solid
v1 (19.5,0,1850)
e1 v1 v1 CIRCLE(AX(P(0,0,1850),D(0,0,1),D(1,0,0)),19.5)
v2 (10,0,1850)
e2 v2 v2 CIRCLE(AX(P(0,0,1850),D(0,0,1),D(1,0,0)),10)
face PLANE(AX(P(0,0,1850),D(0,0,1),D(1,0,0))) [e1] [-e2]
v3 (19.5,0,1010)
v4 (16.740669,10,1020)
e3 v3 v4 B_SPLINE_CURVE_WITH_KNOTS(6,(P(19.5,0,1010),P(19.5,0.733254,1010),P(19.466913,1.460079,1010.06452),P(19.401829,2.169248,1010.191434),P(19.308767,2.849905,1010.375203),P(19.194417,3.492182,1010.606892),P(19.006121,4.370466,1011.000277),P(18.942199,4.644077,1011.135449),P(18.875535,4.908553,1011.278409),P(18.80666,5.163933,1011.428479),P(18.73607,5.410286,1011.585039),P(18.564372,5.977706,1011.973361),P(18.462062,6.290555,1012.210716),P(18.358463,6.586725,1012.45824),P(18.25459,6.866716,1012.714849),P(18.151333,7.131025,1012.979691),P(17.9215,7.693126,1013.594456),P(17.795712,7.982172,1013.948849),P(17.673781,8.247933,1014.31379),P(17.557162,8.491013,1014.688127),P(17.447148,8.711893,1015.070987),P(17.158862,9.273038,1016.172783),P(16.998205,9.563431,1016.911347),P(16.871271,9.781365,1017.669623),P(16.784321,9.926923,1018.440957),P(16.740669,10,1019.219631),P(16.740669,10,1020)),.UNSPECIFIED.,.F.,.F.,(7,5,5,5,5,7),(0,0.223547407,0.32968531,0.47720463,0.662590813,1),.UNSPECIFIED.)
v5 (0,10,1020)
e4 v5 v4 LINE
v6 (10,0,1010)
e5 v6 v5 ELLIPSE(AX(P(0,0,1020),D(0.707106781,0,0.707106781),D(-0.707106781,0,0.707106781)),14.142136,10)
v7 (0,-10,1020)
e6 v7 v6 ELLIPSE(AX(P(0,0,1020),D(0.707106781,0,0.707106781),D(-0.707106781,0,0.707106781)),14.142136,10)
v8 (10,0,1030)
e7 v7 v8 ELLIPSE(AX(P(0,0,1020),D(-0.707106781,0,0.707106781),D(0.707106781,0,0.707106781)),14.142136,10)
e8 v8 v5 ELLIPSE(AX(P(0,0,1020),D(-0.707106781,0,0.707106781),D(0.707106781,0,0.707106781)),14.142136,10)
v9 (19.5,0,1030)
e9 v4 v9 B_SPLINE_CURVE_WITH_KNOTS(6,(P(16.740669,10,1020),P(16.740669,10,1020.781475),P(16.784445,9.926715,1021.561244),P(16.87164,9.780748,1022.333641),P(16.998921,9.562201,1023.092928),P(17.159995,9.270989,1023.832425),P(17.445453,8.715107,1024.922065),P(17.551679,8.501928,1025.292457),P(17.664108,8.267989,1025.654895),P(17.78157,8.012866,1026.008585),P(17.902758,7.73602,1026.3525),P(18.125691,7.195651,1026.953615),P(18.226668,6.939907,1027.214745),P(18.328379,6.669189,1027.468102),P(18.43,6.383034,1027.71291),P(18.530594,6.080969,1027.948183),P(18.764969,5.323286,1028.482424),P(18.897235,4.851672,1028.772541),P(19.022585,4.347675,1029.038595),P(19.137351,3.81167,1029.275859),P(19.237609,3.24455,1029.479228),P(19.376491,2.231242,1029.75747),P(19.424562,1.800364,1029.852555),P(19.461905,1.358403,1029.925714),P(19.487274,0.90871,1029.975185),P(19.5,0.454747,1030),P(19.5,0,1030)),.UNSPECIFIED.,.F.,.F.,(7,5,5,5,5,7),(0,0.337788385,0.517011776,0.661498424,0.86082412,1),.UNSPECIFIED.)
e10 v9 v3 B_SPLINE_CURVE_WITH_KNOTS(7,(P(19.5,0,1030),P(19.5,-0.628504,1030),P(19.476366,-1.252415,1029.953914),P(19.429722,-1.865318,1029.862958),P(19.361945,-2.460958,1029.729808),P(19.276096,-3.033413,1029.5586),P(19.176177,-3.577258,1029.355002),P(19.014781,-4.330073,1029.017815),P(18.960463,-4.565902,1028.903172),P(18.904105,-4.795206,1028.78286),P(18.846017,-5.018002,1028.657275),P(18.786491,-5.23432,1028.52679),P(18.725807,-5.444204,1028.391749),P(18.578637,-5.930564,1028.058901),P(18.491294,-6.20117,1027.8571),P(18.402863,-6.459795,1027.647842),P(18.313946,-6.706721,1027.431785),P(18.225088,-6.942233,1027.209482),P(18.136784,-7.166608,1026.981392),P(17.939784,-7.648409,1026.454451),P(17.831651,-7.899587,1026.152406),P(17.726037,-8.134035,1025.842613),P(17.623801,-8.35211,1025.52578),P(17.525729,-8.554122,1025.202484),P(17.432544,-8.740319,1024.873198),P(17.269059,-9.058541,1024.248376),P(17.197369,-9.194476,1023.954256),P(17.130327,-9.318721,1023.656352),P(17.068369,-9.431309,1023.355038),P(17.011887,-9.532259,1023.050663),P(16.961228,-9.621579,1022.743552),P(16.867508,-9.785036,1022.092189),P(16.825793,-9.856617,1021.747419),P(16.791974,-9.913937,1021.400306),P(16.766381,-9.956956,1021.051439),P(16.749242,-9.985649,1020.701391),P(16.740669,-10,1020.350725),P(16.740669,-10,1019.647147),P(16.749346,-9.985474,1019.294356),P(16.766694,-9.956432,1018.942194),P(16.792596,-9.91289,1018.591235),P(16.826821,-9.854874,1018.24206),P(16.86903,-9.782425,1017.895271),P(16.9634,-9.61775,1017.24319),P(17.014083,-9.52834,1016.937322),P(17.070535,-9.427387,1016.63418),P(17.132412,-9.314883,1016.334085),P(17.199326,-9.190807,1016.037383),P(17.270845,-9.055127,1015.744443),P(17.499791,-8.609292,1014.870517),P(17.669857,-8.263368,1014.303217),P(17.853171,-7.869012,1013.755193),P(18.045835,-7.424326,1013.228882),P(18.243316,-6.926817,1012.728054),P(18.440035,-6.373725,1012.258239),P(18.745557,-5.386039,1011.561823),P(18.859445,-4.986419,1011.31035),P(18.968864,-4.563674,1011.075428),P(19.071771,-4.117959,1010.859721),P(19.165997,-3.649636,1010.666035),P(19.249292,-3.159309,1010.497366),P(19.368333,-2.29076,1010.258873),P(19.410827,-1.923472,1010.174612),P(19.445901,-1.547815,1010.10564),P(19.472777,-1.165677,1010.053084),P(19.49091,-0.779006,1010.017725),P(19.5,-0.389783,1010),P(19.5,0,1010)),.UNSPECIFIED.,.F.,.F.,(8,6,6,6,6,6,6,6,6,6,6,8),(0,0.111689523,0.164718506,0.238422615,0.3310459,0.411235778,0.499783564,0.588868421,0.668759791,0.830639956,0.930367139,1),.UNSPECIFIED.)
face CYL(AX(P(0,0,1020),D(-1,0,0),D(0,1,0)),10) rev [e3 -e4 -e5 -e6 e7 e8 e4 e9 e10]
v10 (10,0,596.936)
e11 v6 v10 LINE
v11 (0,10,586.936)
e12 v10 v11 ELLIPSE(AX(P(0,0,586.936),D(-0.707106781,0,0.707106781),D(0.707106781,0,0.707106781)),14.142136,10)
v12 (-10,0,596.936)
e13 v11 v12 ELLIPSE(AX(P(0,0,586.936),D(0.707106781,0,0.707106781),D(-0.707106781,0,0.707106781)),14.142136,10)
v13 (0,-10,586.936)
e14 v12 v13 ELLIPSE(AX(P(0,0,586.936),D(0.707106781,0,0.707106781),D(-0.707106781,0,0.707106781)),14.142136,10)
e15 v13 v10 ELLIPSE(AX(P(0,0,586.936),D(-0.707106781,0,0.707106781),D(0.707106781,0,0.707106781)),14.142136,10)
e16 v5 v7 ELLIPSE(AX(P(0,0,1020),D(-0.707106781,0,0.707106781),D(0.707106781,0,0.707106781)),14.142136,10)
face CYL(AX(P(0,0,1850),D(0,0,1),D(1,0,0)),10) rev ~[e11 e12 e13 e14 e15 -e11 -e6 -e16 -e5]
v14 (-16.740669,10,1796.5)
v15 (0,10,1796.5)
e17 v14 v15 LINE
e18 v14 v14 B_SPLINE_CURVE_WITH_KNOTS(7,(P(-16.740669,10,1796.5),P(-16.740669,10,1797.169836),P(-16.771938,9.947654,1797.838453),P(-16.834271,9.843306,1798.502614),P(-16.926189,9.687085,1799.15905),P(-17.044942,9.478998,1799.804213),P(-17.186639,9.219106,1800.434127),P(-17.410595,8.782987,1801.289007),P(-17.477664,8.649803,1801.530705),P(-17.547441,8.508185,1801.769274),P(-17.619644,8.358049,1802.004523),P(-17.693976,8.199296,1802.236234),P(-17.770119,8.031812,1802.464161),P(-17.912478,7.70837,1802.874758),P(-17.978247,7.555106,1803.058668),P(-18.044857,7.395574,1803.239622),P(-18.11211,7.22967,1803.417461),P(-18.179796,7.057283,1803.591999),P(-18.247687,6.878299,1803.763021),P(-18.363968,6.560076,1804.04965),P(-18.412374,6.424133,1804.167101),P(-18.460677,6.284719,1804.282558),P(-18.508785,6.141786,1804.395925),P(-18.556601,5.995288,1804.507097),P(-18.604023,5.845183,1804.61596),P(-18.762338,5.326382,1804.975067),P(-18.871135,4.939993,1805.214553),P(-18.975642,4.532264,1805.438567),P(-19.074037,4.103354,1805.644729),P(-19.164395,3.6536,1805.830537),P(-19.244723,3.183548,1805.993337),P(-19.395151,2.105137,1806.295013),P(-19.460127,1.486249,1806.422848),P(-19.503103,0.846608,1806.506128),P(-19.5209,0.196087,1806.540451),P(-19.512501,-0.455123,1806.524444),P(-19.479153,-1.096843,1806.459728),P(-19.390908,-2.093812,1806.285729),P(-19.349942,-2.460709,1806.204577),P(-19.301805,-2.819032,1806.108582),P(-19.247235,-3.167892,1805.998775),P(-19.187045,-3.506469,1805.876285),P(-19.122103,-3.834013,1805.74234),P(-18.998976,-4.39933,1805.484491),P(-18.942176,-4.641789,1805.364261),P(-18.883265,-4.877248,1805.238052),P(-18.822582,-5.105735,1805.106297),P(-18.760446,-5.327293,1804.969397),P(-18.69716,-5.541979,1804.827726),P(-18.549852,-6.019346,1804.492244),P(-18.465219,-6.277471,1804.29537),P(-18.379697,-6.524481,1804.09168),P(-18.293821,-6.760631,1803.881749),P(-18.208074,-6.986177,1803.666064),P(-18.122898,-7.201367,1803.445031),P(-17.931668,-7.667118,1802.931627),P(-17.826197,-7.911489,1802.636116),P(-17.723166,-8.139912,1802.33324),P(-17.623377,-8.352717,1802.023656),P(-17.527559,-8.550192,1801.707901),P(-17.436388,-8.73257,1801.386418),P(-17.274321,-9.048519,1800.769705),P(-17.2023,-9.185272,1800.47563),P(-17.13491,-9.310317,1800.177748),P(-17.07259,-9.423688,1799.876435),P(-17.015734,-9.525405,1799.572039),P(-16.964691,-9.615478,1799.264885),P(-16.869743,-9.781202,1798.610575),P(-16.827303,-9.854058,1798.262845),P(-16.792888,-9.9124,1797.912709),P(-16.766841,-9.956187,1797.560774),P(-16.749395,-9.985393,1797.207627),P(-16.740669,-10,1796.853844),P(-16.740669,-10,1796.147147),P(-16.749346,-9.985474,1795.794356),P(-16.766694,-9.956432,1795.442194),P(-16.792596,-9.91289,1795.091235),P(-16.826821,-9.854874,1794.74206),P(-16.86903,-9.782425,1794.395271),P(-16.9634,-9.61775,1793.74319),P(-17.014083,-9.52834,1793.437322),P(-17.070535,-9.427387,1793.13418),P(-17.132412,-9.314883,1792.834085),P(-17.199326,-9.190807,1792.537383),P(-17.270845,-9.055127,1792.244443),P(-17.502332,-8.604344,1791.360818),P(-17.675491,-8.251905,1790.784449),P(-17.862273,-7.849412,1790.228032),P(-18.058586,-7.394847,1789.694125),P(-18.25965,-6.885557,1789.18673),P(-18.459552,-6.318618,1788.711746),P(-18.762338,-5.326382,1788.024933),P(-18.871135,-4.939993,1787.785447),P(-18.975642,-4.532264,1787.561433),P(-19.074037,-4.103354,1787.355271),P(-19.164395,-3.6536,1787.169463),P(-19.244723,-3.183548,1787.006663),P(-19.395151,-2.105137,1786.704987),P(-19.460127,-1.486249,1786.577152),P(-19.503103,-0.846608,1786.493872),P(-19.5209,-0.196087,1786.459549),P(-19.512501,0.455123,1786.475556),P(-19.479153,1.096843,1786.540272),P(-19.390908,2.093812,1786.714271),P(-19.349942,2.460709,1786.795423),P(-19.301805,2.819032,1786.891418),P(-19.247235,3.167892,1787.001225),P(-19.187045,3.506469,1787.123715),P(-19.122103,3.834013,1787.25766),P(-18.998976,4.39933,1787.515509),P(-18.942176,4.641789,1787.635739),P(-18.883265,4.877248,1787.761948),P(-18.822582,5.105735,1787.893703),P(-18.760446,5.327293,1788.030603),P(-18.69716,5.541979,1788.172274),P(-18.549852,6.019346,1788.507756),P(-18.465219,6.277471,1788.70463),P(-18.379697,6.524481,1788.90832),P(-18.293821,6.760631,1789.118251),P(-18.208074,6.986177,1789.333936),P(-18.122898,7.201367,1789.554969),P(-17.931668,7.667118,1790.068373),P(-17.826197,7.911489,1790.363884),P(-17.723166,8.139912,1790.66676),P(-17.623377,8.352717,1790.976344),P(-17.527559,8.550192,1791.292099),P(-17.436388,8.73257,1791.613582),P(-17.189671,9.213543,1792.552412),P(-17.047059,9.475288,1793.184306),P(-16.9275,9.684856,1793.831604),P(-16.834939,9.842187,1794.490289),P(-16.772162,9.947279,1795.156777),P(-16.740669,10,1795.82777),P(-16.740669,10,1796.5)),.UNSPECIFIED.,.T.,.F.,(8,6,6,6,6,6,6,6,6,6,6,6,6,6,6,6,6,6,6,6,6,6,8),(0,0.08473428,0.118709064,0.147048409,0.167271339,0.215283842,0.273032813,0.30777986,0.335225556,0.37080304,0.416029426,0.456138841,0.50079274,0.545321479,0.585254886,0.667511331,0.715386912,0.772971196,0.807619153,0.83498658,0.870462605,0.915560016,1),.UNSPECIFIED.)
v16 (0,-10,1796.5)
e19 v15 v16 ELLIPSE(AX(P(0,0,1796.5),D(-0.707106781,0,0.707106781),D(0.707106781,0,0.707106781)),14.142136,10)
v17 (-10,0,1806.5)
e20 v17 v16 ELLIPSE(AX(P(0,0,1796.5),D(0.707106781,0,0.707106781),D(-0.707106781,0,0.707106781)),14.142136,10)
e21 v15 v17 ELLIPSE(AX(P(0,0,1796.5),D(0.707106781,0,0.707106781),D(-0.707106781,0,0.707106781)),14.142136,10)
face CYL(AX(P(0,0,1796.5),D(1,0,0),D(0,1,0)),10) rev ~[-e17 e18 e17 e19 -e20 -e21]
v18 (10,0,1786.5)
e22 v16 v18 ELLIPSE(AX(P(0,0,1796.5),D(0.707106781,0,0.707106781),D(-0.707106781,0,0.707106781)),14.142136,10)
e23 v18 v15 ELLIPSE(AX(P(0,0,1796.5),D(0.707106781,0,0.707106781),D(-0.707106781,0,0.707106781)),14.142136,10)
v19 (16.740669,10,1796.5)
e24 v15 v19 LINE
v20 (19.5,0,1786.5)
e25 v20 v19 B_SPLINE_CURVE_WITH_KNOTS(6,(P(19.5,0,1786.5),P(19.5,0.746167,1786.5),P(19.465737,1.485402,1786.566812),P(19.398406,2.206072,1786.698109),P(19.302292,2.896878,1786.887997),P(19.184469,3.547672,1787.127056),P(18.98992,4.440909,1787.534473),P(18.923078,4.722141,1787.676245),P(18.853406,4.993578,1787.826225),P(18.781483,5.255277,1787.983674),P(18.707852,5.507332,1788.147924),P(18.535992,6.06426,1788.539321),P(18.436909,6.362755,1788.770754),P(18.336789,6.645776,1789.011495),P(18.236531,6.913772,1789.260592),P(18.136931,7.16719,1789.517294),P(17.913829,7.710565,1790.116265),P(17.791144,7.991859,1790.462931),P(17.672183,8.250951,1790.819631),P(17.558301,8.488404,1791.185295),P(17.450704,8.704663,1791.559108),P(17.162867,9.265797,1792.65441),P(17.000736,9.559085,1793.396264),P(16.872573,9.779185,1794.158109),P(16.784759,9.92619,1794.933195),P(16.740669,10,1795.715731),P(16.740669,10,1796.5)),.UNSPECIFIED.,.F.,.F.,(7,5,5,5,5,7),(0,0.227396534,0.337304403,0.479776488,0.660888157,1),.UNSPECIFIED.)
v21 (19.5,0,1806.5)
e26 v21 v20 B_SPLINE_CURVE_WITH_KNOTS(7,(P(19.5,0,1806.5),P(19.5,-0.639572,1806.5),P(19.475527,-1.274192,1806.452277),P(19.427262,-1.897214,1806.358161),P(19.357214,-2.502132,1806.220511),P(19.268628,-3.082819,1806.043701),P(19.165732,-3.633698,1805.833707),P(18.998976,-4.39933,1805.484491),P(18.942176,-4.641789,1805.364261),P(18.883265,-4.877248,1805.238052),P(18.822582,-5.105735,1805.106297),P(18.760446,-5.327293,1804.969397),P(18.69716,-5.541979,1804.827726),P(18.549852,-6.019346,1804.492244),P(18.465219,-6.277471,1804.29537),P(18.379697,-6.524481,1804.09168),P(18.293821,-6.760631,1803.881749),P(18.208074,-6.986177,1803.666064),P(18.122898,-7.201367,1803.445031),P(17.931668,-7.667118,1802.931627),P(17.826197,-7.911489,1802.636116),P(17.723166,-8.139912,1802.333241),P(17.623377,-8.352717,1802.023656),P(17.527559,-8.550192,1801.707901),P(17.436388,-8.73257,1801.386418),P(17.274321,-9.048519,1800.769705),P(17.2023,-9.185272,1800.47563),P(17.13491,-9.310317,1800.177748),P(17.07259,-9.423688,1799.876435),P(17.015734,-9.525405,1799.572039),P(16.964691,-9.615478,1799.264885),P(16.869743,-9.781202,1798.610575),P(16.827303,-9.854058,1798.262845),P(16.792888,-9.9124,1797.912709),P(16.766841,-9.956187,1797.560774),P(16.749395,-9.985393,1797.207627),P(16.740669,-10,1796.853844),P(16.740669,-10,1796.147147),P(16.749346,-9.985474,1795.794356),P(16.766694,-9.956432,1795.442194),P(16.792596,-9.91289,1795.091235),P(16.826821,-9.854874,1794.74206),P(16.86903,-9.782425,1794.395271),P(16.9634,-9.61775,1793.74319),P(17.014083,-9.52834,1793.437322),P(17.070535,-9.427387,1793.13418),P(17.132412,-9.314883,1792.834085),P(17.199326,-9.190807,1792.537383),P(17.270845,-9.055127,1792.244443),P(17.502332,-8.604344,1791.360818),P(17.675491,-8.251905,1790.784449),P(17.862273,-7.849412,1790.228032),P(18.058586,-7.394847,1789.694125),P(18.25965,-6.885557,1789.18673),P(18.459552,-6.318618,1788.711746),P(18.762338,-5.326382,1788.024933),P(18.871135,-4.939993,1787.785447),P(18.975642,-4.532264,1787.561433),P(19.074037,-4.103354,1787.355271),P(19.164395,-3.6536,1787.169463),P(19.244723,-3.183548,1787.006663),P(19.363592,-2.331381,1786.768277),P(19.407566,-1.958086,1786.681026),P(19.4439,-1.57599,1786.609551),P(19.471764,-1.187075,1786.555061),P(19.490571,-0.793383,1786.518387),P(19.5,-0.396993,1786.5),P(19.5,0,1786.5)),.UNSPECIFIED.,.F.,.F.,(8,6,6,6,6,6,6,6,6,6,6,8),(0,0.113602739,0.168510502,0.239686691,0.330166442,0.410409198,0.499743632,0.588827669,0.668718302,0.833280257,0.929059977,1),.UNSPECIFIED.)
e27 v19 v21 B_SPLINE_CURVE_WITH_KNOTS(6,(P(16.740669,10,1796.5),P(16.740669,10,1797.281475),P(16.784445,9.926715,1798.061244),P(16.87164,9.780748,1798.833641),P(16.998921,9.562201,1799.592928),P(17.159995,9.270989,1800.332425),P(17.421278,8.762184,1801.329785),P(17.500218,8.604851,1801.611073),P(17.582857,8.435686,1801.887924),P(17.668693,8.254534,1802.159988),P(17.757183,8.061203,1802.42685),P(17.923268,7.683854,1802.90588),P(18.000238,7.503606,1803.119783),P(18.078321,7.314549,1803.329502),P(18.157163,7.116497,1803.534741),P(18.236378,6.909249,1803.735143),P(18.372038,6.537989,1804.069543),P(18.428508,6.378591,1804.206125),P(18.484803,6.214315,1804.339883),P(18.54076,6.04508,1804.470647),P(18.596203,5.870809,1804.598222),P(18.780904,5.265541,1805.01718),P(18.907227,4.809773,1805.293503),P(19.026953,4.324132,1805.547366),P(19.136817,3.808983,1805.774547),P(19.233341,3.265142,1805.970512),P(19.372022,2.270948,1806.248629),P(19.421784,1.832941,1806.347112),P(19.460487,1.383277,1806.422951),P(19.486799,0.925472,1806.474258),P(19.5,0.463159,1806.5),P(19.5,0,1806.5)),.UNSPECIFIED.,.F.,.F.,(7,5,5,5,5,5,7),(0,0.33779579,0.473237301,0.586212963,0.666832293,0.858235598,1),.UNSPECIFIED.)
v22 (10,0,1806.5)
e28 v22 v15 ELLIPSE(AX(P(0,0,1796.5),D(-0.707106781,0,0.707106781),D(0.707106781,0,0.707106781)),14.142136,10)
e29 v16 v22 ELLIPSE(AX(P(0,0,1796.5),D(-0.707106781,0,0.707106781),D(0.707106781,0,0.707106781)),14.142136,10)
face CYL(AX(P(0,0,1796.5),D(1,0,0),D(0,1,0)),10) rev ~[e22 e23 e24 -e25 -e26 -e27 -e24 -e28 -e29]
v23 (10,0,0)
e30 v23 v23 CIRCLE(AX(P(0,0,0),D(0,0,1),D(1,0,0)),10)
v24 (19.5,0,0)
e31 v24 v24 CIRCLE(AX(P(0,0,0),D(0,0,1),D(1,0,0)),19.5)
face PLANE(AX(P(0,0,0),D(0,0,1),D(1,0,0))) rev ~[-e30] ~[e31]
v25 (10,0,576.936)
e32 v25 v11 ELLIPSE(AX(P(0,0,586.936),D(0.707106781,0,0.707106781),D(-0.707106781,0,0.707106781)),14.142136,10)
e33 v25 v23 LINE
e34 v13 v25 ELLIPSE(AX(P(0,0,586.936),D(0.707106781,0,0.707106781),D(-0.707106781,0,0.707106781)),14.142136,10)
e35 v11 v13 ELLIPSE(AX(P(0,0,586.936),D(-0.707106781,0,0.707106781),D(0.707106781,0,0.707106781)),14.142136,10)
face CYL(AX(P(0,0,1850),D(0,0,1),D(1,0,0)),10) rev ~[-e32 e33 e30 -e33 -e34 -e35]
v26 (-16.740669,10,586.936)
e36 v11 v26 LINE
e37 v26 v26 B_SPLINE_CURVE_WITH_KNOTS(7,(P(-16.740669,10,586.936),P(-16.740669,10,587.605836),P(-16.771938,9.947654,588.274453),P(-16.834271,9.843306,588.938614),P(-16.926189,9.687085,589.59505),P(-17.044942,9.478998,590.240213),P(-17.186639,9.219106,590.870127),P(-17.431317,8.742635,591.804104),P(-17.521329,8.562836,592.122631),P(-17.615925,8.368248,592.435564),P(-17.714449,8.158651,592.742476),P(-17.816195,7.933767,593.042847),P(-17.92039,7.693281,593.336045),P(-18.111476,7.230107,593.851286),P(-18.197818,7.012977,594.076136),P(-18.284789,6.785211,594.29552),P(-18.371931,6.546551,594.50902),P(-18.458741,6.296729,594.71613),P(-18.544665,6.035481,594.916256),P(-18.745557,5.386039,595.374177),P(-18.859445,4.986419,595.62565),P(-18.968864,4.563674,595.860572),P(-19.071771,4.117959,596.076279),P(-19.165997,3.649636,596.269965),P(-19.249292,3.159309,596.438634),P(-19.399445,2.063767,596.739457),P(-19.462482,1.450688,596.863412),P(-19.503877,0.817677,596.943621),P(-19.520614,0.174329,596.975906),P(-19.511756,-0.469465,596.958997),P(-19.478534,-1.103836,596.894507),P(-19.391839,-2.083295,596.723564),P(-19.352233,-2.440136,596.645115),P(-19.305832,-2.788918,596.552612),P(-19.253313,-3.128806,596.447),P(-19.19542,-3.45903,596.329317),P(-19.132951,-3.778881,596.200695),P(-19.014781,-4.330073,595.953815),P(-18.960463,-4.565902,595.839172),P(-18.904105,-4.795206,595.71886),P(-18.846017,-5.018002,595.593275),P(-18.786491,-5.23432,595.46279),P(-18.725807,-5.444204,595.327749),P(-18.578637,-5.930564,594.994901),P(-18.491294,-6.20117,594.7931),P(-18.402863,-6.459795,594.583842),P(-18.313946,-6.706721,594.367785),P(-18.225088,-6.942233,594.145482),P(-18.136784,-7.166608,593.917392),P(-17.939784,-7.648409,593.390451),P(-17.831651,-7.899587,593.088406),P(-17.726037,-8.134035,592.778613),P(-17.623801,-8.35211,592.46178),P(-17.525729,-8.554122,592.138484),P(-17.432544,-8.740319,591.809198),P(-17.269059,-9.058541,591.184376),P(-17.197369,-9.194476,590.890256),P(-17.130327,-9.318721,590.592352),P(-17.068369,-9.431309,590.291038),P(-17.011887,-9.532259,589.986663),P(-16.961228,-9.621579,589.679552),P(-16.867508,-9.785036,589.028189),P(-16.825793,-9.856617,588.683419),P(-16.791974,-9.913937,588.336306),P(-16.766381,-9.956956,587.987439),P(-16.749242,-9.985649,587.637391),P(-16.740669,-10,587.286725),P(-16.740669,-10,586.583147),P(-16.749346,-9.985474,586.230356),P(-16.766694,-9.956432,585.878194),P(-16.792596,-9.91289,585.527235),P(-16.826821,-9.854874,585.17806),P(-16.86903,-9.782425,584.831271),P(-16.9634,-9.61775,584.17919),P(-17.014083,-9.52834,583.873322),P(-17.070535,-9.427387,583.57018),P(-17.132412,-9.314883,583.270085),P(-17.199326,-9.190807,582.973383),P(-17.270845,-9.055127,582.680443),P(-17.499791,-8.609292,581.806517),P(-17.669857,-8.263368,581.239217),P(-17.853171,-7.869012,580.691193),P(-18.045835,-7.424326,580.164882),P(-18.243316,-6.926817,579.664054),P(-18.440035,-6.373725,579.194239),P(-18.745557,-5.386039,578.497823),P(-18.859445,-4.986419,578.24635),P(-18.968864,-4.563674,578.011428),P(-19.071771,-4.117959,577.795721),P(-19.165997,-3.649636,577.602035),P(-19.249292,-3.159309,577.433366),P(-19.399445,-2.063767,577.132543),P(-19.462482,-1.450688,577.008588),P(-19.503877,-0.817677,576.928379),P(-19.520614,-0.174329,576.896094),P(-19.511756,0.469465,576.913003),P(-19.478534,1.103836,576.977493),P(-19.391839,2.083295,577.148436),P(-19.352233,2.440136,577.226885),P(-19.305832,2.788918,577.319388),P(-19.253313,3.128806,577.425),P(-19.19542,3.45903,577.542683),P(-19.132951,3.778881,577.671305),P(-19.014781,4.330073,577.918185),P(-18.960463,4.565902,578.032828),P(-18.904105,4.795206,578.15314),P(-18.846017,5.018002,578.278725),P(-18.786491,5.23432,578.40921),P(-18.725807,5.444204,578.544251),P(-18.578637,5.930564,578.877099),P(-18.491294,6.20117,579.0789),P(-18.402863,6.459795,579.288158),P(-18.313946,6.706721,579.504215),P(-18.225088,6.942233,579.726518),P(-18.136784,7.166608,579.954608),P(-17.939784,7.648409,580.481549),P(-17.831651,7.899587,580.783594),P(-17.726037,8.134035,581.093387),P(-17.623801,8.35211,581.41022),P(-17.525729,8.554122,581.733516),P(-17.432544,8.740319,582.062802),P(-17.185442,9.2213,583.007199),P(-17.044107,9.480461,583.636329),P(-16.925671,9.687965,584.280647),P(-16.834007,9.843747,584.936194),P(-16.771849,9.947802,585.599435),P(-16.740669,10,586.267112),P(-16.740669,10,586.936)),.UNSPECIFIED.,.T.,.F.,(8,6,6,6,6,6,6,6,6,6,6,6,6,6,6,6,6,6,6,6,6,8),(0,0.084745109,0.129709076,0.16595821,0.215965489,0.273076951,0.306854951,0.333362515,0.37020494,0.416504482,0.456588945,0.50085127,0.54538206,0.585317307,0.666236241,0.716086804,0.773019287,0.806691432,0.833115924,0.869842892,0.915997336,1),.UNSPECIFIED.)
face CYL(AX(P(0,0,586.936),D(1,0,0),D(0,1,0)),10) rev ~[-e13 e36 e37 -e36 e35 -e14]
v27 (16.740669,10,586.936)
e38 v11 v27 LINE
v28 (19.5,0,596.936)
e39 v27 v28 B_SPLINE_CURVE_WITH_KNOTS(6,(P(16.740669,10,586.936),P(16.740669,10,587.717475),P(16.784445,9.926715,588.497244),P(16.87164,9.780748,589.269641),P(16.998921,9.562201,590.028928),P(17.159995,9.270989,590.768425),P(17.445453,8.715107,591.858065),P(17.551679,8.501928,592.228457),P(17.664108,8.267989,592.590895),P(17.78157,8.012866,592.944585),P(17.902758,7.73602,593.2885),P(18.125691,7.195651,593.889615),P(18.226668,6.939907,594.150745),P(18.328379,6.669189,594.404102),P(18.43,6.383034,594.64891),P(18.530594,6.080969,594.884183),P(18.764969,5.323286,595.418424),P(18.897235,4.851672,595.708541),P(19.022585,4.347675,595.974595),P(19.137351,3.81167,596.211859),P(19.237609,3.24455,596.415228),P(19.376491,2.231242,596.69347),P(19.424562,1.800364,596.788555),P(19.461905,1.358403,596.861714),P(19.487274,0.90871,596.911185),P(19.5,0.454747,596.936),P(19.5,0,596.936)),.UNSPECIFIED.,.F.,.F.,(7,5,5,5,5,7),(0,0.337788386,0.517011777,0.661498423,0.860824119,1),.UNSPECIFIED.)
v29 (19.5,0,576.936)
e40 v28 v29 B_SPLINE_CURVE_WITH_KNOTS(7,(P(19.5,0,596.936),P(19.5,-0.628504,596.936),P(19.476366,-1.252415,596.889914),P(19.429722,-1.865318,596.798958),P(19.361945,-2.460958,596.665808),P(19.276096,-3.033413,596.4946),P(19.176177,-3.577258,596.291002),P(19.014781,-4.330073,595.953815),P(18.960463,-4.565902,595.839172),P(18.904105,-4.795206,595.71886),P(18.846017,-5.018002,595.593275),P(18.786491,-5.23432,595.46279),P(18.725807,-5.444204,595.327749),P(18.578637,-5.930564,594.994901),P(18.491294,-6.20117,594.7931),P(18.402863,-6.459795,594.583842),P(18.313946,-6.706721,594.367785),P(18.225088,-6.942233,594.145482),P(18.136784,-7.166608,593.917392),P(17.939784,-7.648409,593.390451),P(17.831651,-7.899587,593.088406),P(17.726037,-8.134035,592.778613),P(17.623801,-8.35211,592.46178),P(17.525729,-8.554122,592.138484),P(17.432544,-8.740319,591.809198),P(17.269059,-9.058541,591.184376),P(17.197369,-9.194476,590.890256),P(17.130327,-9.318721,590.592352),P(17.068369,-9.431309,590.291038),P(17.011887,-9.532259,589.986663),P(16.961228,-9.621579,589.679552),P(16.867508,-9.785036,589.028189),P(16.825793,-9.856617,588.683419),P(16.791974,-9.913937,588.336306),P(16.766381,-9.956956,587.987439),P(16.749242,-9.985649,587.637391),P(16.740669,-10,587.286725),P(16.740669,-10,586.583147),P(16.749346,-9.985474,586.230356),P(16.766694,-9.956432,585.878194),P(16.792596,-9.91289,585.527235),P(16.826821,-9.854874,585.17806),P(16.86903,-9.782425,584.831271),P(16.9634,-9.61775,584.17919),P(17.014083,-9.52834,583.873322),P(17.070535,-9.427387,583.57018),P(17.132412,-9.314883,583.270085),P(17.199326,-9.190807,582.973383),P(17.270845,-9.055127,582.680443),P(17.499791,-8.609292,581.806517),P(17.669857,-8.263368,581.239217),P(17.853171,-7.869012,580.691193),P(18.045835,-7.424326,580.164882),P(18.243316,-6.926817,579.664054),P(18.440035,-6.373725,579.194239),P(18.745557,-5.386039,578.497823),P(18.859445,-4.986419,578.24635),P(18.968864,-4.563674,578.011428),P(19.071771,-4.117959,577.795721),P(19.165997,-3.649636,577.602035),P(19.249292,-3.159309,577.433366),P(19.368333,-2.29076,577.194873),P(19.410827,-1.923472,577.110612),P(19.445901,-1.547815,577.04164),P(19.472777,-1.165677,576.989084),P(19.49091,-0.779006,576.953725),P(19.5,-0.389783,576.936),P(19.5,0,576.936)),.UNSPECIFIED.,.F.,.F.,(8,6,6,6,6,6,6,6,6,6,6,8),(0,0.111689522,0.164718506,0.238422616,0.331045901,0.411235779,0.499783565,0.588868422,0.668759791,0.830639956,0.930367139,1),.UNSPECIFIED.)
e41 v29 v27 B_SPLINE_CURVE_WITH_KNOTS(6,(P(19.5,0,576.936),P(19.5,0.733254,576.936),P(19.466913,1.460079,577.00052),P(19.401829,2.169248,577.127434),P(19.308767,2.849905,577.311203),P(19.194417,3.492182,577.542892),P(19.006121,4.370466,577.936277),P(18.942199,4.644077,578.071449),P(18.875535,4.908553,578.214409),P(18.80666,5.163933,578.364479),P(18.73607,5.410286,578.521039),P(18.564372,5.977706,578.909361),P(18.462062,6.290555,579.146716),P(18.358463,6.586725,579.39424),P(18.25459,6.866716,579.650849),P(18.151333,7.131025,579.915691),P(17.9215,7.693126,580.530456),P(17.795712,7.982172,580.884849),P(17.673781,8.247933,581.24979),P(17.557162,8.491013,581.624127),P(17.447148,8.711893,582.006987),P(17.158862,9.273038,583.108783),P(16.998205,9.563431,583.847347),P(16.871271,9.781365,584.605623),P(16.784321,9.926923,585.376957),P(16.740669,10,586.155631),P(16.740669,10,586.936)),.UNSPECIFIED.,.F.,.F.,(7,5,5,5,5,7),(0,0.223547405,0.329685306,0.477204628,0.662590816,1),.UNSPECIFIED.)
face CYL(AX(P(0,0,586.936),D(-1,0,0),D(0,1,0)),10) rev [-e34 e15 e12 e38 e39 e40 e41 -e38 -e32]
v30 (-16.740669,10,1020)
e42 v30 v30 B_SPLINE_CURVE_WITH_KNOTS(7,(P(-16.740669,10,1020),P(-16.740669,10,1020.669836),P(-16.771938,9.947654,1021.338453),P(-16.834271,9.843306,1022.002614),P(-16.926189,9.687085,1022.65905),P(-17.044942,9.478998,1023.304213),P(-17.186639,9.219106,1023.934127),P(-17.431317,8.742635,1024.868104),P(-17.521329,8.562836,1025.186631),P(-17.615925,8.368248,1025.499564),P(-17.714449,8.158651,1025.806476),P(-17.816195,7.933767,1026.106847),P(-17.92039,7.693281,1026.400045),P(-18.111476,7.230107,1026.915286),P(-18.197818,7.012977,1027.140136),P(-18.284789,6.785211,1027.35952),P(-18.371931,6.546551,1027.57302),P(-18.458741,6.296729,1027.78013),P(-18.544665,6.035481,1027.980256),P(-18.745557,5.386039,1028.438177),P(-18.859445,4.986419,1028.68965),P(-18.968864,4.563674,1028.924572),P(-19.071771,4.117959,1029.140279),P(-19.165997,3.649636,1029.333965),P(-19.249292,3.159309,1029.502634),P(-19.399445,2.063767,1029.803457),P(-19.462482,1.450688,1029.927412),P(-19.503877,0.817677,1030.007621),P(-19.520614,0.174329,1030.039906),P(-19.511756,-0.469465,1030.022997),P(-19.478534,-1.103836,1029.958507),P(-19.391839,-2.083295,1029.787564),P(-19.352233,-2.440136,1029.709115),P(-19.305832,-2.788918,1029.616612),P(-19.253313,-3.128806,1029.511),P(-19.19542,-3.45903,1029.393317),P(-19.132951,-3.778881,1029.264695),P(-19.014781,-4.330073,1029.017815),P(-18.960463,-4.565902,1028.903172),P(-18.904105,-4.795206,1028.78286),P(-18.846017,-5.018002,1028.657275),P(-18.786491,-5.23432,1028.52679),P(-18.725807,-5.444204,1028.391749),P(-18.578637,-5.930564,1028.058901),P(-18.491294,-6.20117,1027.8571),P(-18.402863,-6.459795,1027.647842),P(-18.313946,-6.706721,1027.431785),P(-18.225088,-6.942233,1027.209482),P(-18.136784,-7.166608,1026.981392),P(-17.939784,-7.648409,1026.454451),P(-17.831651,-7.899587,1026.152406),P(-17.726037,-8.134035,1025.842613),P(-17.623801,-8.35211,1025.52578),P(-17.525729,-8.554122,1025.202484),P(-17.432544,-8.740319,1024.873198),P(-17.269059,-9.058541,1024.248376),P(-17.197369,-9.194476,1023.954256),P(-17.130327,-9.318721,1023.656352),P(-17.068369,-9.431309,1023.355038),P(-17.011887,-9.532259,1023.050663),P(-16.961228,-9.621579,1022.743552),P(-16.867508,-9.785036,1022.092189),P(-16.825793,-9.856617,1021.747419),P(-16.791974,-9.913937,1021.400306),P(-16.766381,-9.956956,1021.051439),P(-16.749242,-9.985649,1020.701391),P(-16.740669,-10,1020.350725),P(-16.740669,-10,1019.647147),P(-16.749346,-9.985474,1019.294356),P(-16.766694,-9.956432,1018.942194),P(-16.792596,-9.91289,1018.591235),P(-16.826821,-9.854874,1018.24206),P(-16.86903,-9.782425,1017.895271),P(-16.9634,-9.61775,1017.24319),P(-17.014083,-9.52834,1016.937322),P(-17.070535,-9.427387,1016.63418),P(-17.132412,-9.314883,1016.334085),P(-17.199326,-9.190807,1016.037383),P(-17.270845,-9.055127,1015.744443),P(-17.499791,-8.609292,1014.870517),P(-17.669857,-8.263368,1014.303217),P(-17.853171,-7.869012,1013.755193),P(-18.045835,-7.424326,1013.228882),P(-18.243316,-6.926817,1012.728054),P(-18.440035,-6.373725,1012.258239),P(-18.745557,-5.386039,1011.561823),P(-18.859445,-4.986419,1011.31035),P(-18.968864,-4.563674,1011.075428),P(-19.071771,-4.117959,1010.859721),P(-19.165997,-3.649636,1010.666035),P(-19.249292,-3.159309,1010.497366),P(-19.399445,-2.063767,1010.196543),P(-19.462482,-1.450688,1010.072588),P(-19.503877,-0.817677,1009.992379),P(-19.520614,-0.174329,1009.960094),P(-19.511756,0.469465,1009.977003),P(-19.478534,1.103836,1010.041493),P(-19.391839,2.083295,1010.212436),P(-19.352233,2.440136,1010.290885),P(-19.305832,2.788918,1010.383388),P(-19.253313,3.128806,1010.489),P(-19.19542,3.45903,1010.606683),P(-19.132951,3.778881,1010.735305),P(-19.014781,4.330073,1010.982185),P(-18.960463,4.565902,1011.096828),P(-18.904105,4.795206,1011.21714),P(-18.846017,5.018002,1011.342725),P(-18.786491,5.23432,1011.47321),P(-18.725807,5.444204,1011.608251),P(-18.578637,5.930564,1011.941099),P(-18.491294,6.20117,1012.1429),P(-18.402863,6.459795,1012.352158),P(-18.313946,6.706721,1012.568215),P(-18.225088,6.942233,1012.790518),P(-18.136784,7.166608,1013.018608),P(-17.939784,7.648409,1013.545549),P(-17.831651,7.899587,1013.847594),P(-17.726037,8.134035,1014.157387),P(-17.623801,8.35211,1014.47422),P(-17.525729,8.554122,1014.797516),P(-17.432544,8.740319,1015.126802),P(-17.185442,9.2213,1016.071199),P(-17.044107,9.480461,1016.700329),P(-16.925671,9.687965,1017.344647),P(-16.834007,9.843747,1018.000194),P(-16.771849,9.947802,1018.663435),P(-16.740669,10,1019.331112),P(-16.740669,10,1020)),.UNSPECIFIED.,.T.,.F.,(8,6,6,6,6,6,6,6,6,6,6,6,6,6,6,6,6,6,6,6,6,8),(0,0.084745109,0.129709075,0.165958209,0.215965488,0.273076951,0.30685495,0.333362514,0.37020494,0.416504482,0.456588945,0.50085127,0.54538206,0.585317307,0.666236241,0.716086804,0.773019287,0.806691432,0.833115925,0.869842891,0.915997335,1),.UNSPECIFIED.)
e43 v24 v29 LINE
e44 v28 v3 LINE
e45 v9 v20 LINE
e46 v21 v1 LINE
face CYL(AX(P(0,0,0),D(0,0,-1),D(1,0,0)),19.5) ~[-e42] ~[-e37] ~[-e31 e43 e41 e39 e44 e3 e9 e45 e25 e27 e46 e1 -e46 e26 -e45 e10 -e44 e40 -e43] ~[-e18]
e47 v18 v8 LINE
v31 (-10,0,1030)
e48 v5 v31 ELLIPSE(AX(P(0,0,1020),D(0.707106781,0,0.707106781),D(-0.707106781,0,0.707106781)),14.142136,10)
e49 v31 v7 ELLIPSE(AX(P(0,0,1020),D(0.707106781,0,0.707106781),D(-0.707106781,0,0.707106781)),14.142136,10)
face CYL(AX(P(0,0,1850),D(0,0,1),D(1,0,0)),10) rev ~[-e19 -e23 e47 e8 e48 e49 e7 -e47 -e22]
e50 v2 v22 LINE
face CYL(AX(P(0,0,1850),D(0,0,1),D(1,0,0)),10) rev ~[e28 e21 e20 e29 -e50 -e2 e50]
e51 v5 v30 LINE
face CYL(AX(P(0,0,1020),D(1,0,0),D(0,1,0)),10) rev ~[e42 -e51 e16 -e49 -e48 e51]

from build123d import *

# Parameters (mm, degrees)
SKETCH_R        = 19.5
PAD_DEPTH       = 1850
SKETCH001_R     = 10
POCKET_DEPTH    = 1850
SKETCH002_R     = 10
POCKET001_DEPTH = 25


with BuildPart() as part:
    # Sketch → Pad (new body)
    with BuildSketch(Plane.XY):
        Circle(SKETCH_R)
    extrude(amount=PAD_DEPTH)

    # Sketch001 (on Face3 of Pad) → Pocket (cut)
    with BuildSketch(Plane.XY.offset(1850)):
        Circle(SKETCH001_R)
    extrude(amount=-POCKET_DEPTH, mode=Mode.SUBTRACT)

    # Sketch002 → Pocket001 (cut, symmetric)
    with BuildSketch(Plane.YZ):
        with Locations((0, 1020)):
            Circle(SKETCH002_R)
        with Locations((0, 586.936)):
            Circle(SKETCH002_R)
        with Locations((0, 1796.5)):
            Circle(SKETCH002_R)
    extrude(amount=POCKET001_DEPTH, both=True, mode=Mode.SUBTRACT)


solid = part.part
